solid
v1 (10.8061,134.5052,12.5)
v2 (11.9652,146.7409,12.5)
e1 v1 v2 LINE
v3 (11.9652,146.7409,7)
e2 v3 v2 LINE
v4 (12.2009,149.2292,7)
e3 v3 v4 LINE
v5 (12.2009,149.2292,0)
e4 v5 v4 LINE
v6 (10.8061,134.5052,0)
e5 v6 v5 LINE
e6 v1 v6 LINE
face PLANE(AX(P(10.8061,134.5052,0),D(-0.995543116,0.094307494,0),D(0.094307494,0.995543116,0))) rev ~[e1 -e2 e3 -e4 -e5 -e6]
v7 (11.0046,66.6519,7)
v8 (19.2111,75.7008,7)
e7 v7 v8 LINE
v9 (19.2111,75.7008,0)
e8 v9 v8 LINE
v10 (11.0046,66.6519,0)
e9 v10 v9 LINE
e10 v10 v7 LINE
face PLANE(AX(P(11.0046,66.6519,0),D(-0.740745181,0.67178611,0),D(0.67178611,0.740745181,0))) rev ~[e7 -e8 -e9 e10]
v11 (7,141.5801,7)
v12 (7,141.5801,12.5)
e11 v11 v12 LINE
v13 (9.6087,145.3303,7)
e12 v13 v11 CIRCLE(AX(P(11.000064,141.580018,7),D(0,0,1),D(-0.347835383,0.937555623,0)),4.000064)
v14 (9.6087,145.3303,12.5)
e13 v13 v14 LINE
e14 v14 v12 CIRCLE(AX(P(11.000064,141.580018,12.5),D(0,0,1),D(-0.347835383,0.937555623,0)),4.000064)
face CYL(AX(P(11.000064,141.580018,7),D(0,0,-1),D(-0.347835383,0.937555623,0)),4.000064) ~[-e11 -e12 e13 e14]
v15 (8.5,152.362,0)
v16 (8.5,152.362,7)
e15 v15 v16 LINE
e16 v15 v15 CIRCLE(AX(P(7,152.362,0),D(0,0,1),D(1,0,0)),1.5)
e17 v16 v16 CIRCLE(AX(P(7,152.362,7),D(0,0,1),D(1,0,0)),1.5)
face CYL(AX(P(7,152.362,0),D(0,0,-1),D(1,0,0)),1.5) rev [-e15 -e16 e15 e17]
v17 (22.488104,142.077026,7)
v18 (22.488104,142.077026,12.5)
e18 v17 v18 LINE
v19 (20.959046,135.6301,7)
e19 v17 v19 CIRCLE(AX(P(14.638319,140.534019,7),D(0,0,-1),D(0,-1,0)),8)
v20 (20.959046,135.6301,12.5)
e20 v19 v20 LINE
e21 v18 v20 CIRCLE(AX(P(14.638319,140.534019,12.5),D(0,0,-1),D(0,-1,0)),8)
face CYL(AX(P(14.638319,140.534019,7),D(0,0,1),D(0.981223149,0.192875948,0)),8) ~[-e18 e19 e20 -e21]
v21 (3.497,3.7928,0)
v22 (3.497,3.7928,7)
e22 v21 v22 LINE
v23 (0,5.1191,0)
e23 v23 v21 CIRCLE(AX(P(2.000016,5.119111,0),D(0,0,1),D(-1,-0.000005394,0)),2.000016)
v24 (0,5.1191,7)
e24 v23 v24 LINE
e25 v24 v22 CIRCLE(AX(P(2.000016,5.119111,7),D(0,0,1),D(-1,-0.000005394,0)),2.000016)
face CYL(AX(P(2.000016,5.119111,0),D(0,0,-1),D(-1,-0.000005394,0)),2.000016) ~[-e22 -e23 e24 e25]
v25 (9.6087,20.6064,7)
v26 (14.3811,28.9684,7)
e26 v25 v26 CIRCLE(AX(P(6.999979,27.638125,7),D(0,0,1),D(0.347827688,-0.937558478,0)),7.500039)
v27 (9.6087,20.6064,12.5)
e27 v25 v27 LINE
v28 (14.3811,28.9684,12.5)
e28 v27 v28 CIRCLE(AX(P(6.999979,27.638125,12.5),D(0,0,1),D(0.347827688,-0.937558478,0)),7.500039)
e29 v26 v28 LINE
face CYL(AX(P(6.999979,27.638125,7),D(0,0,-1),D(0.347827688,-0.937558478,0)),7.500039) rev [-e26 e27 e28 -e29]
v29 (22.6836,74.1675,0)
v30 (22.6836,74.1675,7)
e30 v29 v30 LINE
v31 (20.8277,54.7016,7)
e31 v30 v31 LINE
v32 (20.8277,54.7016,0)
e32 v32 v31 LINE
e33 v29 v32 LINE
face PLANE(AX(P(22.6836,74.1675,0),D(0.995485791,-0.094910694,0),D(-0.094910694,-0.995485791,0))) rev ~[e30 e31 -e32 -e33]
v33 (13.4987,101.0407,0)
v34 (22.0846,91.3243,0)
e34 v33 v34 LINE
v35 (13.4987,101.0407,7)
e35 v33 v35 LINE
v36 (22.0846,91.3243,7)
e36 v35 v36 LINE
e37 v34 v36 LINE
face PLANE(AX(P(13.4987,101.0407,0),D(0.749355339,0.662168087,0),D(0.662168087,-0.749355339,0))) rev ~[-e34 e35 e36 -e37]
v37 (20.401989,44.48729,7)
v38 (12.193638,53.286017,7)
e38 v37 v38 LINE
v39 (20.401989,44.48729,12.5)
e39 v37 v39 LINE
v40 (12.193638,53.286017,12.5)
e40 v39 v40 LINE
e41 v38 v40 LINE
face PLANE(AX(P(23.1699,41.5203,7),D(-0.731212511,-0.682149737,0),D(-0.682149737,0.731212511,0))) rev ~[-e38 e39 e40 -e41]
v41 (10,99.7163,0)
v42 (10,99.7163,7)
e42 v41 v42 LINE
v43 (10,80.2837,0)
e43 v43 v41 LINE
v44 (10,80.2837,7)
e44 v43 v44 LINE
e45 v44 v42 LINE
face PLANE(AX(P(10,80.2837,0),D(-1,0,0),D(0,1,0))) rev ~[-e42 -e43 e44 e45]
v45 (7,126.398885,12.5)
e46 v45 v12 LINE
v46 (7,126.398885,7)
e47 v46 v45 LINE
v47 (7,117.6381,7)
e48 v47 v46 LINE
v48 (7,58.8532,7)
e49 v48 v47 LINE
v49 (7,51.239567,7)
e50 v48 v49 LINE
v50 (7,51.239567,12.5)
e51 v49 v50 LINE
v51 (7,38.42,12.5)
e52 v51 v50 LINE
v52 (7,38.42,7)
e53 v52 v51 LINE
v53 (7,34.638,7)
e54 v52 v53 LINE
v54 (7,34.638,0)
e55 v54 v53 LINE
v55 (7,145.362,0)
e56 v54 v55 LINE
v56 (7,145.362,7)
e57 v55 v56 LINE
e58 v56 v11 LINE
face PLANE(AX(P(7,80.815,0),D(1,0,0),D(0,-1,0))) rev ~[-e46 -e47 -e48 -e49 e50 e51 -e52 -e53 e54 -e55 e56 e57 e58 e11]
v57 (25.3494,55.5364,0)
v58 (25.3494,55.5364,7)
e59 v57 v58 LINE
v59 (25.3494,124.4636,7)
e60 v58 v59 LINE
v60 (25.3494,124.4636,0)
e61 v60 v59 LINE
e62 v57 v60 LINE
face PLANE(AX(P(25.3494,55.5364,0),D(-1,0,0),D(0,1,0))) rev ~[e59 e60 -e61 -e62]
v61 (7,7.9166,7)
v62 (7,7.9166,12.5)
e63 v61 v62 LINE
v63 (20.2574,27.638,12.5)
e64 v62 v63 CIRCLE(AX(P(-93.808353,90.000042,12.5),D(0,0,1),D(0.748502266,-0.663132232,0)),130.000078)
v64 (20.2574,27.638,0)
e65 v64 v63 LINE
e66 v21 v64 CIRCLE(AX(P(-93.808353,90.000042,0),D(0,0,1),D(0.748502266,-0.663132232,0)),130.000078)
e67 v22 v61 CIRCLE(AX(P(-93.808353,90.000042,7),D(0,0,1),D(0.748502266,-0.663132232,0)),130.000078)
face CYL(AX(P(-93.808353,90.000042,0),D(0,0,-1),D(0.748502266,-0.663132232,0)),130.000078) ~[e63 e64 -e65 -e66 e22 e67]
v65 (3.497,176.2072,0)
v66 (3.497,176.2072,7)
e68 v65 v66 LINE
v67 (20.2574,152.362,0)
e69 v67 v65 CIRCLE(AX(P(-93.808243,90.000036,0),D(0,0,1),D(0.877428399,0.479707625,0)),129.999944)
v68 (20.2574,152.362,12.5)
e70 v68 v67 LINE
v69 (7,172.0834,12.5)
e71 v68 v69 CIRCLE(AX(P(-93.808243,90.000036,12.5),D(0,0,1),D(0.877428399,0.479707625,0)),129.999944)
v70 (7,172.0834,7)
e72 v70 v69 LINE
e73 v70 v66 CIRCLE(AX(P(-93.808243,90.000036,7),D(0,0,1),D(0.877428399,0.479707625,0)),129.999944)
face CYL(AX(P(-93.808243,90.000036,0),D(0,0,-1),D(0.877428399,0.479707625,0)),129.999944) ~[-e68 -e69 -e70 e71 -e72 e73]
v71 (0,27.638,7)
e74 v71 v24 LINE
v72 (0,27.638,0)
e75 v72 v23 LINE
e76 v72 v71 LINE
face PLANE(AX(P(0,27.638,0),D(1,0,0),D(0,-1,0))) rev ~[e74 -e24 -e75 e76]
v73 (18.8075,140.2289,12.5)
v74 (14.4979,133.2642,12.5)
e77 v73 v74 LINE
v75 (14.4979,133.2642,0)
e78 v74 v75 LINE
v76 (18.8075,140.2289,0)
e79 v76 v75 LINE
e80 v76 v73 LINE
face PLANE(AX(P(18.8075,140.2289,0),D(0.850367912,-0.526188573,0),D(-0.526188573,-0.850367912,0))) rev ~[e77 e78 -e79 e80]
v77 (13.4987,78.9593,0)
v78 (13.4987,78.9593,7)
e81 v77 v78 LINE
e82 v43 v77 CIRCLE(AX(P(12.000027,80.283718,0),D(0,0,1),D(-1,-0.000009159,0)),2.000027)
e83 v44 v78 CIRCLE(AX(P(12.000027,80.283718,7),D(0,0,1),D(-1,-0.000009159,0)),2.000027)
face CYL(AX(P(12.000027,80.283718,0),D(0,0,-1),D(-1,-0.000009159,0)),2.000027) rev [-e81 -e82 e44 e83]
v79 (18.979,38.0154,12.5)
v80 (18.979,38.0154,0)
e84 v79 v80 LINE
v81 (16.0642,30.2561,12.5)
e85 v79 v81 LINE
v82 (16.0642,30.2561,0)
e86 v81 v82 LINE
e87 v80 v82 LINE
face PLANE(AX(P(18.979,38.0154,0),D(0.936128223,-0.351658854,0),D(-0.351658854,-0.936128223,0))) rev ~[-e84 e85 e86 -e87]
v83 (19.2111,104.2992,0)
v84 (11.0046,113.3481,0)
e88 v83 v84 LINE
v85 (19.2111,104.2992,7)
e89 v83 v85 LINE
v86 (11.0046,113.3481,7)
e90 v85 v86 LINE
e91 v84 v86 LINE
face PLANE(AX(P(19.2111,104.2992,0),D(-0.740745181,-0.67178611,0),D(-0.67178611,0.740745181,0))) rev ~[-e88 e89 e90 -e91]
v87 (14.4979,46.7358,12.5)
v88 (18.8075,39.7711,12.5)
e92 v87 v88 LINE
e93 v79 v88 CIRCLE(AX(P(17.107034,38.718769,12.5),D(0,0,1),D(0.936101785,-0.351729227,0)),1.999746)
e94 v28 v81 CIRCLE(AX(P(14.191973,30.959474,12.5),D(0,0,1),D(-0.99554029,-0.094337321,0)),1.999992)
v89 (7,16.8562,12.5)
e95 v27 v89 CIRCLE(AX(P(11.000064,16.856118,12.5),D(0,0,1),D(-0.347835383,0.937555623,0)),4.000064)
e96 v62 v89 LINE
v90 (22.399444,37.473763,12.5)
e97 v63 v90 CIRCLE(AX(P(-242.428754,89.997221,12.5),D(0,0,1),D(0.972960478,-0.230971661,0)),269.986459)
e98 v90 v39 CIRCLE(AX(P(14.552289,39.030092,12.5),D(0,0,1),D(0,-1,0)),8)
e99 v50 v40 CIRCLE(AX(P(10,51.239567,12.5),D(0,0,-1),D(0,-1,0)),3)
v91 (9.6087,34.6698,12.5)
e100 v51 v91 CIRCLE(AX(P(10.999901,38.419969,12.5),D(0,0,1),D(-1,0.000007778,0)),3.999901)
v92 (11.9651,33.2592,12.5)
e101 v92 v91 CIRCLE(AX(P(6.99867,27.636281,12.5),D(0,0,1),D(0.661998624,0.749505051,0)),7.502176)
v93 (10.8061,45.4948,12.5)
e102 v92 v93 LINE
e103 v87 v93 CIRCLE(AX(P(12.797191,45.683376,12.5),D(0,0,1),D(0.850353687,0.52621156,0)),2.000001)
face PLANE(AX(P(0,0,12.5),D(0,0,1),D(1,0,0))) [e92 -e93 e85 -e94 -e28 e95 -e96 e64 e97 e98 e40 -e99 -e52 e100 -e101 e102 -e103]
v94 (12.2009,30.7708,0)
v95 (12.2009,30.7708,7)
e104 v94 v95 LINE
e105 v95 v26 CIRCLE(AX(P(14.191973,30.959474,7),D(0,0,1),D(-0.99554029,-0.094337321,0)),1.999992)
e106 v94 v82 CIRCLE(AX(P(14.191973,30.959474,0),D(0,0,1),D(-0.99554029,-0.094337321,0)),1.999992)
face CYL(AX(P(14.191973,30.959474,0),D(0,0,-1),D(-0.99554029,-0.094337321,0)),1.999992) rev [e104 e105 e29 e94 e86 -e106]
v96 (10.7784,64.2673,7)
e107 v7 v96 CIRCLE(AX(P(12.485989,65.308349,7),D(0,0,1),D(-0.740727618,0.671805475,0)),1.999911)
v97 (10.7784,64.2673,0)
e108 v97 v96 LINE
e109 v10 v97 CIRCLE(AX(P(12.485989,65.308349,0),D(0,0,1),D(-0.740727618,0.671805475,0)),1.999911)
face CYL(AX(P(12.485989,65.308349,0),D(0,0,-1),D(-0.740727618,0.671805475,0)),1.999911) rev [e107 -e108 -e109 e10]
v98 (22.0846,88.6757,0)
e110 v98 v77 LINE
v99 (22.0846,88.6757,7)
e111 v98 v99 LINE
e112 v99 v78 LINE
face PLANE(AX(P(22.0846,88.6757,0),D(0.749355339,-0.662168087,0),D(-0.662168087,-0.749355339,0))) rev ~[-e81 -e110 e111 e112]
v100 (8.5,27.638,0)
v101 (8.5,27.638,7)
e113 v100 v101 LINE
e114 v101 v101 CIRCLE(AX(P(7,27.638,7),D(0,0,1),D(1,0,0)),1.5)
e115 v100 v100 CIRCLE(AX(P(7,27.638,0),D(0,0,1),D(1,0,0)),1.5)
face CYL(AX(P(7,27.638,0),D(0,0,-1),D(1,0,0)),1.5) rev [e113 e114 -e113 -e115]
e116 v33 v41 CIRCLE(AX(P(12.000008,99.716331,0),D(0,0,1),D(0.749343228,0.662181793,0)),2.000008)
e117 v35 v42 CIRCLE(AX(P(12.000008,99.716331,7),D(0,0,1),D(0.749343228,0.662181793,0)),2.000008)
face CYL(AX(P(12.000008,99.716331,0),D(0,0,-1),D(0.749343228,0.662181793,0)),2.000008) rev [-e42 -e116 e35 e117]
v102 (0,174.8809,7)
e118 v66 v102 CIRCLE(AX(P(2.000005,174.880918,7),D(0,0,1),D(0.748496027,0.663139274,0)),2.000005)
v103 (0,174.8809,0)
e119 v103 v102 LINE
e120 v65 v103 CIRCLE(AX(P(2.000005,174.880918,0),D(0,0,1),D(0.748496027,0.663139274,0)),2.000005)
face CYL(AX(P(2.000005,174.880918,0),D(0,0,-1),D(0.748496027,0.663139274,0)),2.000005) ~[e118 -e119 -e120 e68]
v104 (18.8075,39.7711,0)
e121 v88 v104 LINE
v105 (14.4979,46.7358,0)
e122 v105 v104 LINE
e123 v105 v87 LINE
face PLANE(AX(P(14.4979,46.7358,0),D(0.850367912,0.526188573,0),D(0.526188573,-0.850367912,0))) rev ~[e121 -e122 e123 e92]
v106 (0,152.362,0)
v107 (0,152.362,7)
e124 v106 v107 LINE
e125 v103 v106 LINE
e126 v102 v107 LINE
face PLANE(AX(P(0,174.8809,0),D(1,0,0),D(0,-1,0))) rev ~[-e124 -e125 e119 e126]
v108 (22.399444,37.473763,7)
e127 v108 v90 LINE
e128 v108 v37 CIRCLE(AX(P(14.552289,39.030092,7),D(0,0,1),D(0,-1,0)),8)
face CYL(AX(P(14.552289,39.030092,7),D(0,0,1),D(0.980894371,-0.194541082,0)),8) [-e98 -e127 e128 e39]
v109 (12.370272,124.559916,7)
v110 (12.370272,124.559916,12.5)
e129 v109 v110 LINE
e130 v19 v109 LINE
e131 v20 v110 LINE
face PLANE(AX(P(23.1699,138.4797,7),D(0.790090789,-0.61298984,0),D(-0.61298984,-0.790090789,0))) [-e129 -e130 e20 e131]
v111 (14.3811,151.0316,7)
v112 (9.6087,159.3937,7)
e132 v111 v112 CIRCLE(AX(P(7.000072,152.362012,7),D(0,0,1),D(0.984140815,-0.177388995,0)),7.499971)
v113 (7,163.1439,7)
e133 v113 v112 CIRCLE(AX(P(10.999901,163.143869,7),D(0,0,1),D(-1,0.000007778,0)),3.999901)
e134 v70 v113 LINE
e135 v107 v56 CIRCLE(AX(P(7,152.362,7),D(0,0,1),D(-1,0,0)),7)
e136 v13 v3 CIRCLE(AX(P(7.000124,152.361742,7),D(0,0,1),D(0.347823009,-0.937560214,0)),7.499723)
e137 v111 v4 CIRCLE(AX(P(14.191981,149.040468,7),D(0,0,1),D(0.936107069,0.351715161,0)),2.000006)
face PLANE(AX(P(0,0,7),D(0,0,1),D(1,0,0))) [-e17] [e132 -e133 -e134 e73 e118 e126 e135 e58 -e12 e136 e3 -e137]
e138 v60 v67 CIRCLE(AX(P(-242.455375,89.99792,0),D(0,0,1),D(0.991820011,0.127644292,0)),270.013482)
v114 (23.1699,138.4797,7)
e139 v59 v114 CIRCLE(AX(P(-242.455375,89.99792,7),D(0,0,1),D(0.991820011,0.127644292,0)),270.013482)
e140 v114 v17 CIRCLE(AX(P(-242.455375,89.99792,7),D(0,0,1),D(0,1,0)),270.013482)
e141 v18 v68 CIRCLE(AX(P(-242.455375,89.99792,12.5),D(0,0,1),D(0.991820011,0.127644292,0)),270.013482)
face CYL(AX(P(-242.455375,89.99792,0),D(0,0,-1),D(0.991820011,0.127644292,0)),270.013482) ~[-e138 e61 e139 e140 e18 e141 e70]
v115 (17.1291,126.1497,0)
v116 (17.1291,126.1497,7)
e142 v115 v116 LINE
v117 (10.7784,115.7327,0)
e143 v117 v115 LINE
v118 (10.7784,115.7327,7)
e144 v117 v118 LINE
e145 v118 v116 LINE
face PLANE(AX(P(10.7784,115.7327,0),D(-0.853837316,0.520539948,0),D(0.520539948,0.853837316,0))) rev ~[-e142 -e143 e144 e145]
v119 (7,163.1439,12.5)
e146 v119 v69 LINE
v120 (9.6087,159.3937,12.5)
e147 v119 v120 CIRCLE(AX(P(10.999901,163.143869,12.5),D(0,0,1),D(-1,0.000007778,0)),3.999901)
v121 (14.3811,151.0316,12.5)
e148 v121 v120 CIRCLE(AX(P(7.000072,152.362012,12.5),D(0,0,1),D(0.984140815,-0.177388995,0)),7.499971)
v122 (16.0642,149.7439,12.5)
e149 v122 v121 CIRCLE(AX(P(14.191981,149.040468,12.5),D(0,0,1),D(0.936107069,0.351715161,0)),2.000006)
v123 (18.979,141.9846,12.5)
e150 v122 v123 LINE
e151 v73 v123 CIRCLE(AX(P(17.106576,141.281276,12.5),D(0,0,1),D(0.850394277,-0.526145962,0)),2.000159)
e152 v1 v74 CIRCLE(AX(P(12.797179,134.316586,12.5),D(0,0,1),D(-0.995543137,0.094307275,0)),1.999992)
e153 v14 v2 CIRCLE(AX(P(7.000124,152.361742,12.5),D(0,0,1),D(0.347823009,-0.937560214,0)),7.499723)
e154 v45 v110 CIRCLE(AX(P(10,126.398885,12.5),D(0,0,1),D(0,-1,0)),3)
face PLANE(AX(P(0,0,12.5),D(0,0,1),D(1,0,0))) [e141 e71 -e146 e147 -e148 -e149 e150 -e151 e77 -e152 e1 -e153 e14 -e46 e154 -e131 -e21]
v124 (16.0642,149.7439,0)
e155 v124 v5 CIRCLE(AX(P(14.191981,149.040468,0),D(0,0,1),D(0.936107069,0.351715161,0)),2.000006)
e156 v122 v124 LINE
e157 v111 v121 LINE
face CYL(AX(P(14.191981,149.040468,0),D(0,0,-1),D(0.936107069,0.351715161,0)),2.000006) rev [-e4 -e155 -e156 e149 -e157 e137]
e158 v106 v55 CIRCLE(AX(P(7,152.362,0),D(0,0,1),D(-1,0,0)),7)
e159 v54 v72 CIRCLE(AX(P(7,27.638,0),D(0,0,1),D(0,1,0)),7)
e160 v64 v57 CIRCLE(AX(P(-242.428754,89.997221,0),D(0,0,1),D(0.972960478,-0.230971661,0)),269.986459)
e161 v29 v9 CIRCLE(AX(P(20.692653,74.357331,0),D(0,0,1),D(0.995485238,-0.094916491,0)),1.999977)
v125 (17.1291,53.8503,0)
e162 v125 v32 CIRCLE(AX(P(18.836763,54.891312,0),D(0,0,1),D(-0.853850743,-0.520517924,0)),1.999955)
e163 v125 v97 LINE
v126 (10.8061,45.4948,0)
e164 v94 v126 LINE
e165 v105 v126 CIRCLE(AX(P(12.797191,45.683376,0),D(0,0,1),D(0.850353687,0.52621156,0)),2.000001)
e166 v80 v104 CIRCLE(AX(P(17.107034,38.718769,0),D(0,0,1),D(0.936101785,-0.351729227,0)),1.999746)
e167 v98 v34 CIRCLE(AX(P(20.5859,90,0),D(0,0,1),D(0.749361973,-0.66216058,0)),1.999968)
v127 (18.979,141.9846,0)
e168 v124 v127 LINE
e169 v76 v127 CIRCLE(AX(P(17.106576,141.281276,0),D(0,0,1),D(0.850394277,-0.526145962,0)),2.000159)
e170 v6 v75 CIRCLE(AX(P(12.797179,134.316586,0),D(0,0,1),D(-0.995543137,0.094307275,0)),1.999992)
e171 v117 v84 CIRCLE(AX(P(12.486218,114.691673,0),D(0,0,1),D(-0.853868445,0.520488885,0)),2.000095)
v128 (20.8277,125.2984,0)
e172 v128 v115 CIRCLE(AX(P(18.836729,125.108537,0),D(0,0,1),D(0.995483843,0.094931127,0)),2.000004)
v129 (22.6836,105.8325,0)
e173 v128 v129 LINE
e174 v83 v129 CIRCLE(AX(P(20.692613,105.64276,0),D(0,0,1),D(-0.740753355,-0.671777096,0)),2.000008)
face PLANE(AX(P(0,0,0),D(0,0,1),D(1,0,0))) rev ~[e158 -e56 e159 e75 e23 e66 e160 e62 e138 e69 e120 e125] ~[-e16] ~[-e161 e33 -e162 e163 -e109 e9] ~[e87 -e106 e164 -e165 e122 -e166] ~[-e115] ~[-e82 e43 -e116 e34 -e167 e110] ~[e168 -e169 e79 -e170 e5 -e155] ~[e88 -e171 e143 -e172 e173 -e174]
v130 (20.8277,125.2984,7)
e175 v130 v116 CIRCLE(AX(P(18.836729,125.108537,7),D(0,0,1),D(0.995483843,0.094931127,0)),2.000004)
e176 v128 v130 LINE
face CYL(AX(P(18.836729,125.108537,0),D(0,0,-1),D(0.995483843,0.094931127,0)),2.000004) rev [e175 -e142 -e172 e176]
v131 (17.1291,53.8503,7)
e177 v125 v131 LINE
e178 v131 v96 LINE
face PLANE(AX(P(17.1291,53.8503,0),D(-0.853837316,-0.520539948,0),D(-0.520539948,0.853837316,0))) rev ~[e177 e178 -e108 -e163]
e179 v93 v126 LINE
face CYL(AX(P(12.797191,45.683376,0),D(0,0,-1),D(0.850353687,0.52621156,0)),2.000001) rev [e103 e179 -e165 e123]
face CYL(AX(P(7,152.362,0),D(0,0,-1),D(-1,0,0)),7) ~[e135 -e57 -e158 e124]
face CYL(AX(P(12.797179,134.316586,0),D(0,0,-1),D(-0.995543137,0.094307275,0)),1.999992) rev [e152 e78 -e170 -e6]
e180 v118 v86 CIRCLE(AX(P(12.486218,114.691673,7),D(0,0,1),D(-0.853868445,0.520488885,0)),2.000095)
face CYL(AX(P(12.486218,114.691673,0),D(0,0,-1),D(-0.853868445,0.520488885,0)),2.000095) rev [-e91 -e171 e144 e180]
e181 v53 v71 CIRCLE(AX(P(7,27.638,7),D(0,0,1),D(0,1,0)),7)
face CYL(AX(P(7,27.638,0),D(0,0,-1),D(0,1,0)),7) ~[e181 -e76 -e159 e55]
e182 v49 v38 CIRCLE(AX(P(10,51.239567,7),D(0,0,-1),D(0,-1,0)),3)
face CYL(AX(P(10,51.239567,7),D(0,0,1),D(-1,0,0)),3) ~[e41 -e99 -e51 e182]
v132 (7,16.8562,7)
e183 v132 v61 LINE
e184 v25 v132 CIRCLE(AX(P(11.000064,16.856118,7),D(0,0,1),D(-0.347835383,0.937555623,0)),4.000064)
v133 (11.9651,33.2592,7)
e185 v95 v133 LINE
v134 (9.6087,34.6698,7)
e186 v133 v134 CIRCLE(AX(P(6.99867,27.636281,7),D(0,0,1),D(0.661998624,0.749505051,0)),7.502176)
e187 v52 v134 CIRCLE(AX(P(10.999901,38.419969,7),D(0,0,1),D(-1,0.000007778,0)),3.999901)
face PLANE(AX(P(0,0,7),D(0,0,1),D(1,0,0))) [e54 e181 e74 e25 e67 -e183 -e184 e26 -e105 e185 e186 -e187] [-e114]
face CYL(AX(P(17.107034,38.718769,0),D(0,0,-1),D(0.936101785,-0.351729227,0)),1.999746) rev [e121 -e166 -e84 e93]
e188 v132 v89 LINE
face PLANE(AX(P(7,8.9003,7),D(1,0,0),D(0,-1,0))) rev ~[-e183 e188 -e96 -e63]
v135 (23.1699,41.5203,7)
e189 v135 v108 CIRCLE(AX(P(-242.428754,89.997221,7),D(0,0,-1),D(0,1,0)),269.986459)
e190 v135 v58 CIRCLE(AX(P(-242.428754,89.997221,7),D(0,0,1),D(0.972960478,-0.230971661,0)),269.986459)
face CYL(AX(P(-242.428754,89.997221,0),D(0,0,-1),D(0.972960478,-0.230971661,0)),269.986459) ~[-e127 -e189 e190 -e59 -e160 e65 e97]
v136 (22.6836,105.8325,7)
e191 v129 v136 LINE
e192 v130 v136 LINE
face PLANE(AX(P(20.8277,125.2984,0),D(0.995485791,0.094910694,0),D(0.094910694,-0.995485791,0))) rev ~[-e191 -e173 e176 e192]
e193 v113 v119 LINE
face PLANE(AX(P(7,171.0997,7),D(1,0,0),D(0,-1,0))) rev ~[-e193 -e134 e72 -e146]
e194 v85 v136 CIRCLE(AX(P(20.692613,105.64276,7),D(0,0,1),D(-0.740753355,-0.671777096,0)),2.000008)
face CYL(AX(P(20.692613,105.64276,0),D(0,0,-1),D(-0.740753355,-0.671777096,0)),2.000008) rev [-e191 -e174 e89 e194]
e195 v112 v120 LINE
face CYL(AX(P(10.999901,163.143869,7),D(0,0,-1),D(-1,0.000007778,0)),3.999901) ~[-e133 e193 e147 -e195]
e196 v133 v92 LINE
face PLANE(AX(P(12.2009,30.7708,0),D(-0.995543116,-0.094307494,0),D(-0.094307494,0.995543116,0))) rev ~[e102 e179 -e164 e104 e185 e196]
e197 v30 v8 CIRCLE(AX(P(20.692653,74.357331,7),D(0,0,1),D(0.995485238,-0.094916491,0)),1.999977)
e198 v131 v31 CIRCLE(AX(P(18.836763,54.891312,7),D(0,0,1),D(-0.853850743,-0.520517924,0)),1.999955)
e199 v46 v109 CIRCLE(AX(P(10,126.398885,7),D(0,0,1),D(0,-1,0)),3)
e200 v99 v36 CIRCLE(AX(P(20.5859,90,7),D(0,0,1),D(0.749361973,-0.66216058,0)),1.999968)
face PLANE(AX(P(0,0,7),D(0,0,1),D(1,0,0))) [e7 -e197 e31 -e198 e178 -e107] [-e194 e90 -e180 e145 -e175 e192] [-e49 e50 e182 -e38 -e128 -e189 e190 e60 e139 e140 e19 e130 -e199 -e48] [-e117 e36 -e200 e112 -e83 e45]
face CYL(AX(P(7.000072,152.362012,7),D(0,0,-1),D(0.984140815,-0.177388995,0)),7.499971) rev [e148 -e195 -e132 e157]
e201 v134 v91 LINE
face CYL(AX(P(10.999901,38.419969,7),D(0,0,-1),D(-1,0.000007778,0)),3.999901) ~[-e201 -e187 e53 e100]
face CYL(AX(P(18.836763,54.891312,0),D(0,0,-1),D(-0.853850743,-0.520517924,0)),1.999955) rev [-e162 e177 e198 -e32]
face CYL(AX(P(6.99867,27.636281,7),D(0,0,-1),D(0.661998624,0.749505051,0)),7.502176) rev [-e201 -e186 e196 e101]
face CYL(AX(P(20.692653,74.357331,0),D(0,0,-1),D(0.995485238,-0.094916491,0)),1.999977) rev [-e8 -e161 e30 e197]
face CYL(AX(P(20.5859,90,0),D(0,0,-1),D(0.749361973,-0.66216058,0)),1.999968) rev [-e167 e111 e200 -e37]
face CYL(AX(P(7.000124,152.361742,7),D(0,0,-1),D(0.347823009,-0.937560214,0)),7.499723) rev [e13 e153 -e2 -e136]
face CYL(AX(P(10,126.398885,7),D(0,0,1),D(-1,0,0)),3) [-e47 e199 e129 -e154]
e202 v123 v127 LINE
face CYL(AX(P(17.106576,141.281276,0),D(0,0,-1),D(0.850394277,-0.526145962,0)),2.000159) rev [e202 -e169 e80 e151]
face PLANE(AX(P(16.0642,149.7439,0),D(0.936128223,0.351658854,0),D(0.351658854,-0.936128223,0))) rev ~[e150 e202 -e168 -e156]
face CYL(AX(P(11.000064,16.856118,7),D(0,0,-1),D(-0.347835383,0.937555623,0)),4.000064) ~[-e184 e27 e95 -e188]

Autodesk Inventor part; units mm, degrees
ref_plane "YZ Plane" through (0, 0, 0) normal (1, 0, 0) x (0, 1, 0)
ref_plane "XZ Plane" through (0, 0, 0) normal (0, 1, 0) x (-1, 0, 0)
ref_plane "XY Plane" through (0, 0, 0) normal (0, 0, 1) x (1, 0, 0)
sketch "スケッチ1" plane through (0, 0, 0) normal (0, 0, 1) x (1, 0, 0)
  arc A0 (0, 5.1191) -> (3.497, 3.7928) centre (2, 5.1191) ccw
  arc A1 (3.497, 3.7928) -> (20.2574, 27.638) centre (-93.8083, 90) ccw
  arc A2 (20.2574, 27.638) -> (25.3494, 55.5364) centre (-242.442, 90) ccw
  line L0 (25.3494, 55.5364) -> (25.3494, 124.4636)
  arc A3 (25.3494, 124.4636) -> (20.2574, 152.362) centre (-242.442, 90) ccw
  arc A4 (20.2574, 152.362) -> (3.497, 176.2072) centre (-93.8083, 90) ccw
  arc A5 (3.497, 176.2072) -> (0, 174.8809) centre (2, 174.8809) ccw
  line L1 (0, 174.8809) -> (0, 152.362)
  arc A6 (0, 152.362) -> (7, 145.362) centre (7, 152.362) ccw
  line L2 (7, 145.362) -> (7, 109.815)
  line L3 (7, 80.815) -> (7, 34.638)
  arc A7 (7, 34.638) -> (0, 27.638) centre (7, 27.638) ccw
  line L4 (0, 27.638) -> (0, 5.1191)
  arc A8 (20.8277, 125.2984) -> (17.1291, 126.1497) centre (18.8368, 125.1086) ccw
  line L5 (20.8277, 125.2984) -> (22.6836, 105.8325)
  arc A9 (19.2111, 104.2992) -> (22.6836, 105.8325) centre (20.6926, 105.6427) ccw
  line L6 (19.2111, 104.2992) -> (11.0046, 113.3481)
  arc A10 (10.7784, 115.7327) -> (11.0046, 113.3481) centre (12.4861, 114.6917) ccw
  line L7 (10.7784, 115.7327) -> (17.1291, 126.1497)
  arc A11 (18.8075, 140.2289) -> (18.979, 141.9846) centre (17.1068, 141.2812) ccw
  line L8 (18.8075, 140.2289) -> (14.4979, 133.2642)
  arc A12 (10.8061, 134.5052) -> (14.4979, 133.2642) centre (12.7972, 134.3166) ccw
  line L9 (10.8061, 134.5052) -> (12.2009, 149.2292)
  arc A13 (16.0642, 149.7439) -> (12.2009, 149.2292) centre (14.192, 149.0405) ccw
  line L10 (16.0642, 149.7439) -> (18.979, 141.9846)
  arc A14 (14.4979, 46.7358) -> (10.8061, 45.4948) centre (12.7972, 45.6834) ccw
  line L11 (14.4979, 46.7358) -> (18.8075, 39.7711)
  arc A15 (18.979, 38.0154) -> (18.8075, 39.7711) centre (17.1068, 38.7188) ccw
  line L12 (18.979, 38.0154) -> (16.0642, 30.2561)
  arc A16 (12.2009, 30.7708) -> (16.0642, 30.2561) centre (14.192, 30.9595) ccw
  line L13 (12.2009, 30.7708) -> (10.8061, 45.4948)
  arc A17 (11.0046, 66.6519) -> (10.7784, 64.2673) centre (12.4861, 65.3083) ccw
  line L14 (11.0046, 66.6519) -> (19.2111, 75.7008)
  arc A18 (22.6836, 74.1675) -> (19.2111, 75.7008) centre (20.6926, 74.3573) ccw
  line L15 (22.6836, 74.1675) -> (20.8277, 54.7016)
  arc A19 (17.1291, 53.8503) -> (20.8277, 54.7016) centre (18.8368, 54.8914) ccw
  line L16 (17.1291, 53.8503) -> (10.7784, 64.2673)
  arc A20 (13.4987, 101.0407) -> (10, 99.7163) centre (12, 99.7163) ccw
  line L17 (13.4987, 101.0407) -> (22.0846, 91.3243)
  arc A21 (22.0846, 88.6757) -> (22.0846, 91.3243) centre (20.5859, 90) ccw
  line L18 (22.0846, 88.6757) -> (13.4987, 78.9593)
  arc A22 (10, 80.2837) -> (13.4987, 78.9593) centre (12, 80.2837) ccw
  line L19 (10, 80.2837) -> (10, 99.7163)
  circle A23 centre (7, 152.362) radius 1.5
  circle A24 centre (7, 27.638) radius 1.5
  line L20 (7, 109.815) -> (7, 80.815)
  point P0 (0, 0)
  point P1 (0, 0)
extrude "押し出し1" add sketch "スケッチ1" along normal blind 7
sketch "スケッチ2" plane through (0, 0, 7) normal (0, 0, 1) x (1, 0, 0)
  line L0 (7, 52.6381) -> (7, 57.6381)
  line L1 (7, 52.6381) -> (7, 42.6381)
  line L2 (7, 12.6381) -> (7, 8.9003)
  line L3 (7, 42.6381) -> (7, 38.42)
  line L4 (7, 12.6381) -> (7, 16.8562)
  line L5 (7, 141.5801) -> (7, 122.6381)
  line L6 (7, 171.0997) -> (7, 163.1439)
  circle A0 centre (7, 152.362) radius 1.5 projected
  arc A1 (10, 80.2837) -> (13.4987, 78.9593) centre (12, 80.2837) ccw projected
  line L7 (10, 80.2837) -> (10, 99.7163) projected
  arc A2 (13.4987, 101.0407) -> (10, 99.7163) centre (12, 99.7163) ccw projected
  line L8 (13.4987, 101.0407) -> (22.0846, 91.3243) projected
  arc A3 (22.0846, 88.6757) -> (22.0846, 91.3243) centre (20.5859, 90) ccw projected
  line L9 (22.0846, 88.6757) -> (13.4987, 78.9593) projected
  arc A4 (19.2111, 104.2992) -> (22.6836, 105.8325) centre (20.6926, 105.6427) ccw projected
  line L10 (19.2111, 104.2992) -> (11.0046, 113.3481) projected
  arc A5 (10.7784, 115.7327) -> (11.0046, 113.3481) centre (12.4861, 114.6917) ccw projected
  line L11 (10.7784, 115.7327) -> (17.1291, 126.1497) projected
  arc A6 (20.8277, 125.2984) -> (17.1291, 126.1497) centre (18.8368, 125.1086) ccw projected
  line L12 (20.8277, 125.2984) -> (22.6836, 105.8325) projected
  line L13 (11.0046, 66.6519) -> (19.2111, 75.7008) projected
  arc A7 (22.6836, 74.1675) -> (19.2111, 75.7008) centre (20.6926, 74.3573) ccw projected
  line L14 (22.6836, 74.1675) -> (20.8277, 54.7016) projected
  arc A8 (17.1291, 53.8503) -> (20.8277, 54.7016) centre (18.8368, 54.8914) ccw projected
  line L15 (17.1291, 53.8503) -> (10.7784, 64.2673) projected
  arc A9 (11.0046, 66.6519) -> (10.7784, 64.2673) centre (12.4861, 65.3083) ccw projected
  line L16 (14.4979, 46.7358) -> (18.8075, 39.7711) projected
  arc A10 (18.979, 38.0154) -> (18.8075, 39.7711) centre (17.1068, 38.7188) ccw projected
  line L17 (18.979, 38.0154) -> (16.0642, 30.2561) projected
  arc A11 (12.2009, 30.7708) -> (16.0642, 30.2561) centre (14.192, 30.9595) ccw projected
  line L18 (12.2009, 30.7708) -> (10.8061, 45.4948) projected
  arc A12 (14.4979, 46.7358) -> (10.8061, 45.4948) centre (12.7972, 45.6834) ccw projected
  arc A13 (16.0642, 149.7439) -> (12.2009, 149.2292) centre (14.192, 149.0405) ccw projected
  line L19 (16.0642, 149.7439) -> (18.979, 141.9846) projected
  arc A14 (18.8075, 140.2289) -> (18.979, 141.9846) centre (17.1068, 141.2812) ccw projected
  line L20 (18.8075, 140.2289) -> (14.4979, 133.2642) projected
  arc A15 (10.8061, 134.5052) -> (14.4979, 133.2642) centre (12.7972, 134.3166) ccw projected
  line L21 (10.8061, 134.5052) -> (12.2009, 149.2292) projected
  circle A16 centre (7, 27.638) radius 1.5 projected
  circle A17 centre (7, 152.362) radius 1.5 projected
  arc A18 (25.3494, 124.4636) -> (20.2574, 152.362) centre (-242.442, 90) ccw projected
  arc A19 (20.2574, 152.362) -> (3.497, 176.2072) centre (-93.8083, 90) ccw projected
  arc A20 (3.497, 176.2072) -> (0, 174.8809) centre (2, 174.8809) ccw projected
  line L22 (0, 174.8809) -> (0, 152.362) projected
  arc A21 (0, 152.362) -> (7, 145.362) centre (7, 152.362) ccw projected
  line L23 (7, 145.362) -> (7, 34.638) projected
  arc A22 (7, 34.638) -> (0, 27.638) centre (7, 27.638) ccw projected
  line L24 (0, 27.638) -> (0, 5.1191) projected
  arc A23 (0, 5.1191) -> (3.497, 3.7928) centre (2, 5.1191) ccw projected
  arc A24 (3.497, 3.7928) -> (20.2574, 27.638) centre (-93.8083, 90) ccw projected
  arc A25 (20.2574, 27.638) -> (25.3494, 55.5364) centre (-242.442, 90) ccw projected
  line L25 (25.3494, 55.5364) -> (25.3494, 124.4636) projected
  line L26 (7, 171.0997) -> (7, 172.0834)
  arc A26 (20.2574, 152.362) -> (3.497, 176.2072) centre (-93.8083, 90) ccw projected
  line L27 (7, 8.9003) -> (7, 7.9166)
  arc A27 (3.497, 3.7928) -> (20.2574, 27.638) centre (-93.8083, 90) ccw projected
  arc A28 (7, 163.1439) -> (9.6087, 159.3937) centre (11, 163.1439) ccw
  arc A29 (9.6087, 145.3303) -> (7, 141.5801) centre (11, 141.5801) ccw
  arc A30 (9.6087, 20.6064) -> (7, 16.8562) centre (11, 16.8562) ccw
  arc A31 (7, 38.42) -> (9.6087, 34.6698) centre (11, 38.42) ccw
  line L28 (16.0642, 149.7439) -> (18.979, 141.9846) projected
  arc A32 (10, 80.2837) -> (13.4987, 78.9593) centre (12, 80.2837) ccw projected
  line L29 (10, 80.2837) -> (10, 99.7163) projected
  arc A33 (13.4987, 101.0407) -> (10, 99.7163) centre (12, 99.7163) ccw projected
  line L30 (13.4987, 101.0407) -> (22.0846, 91.3243) projected
  arc A34 (22.0846, 88.6757) -> (22.0846, 91.3243) centre (20.5859, 90) ccw projected
  line L31 (22.0846, 88.6757) -> (13.4987, 78.9593) projected
  arc A35 (19.2111, 104.2992) -> (22.6836, 105.8325) centre (20.6926, 105.6427) ccw projected
  line L32 (19.2111, 104.2992) -> (11.0046, 113.3481) projected
  arc A36 (10.7784, 115.7327) -> (11.0046, 113.3481) centre (12.4861, 114.6917) ccw projected
  line L33 (10.7784, 115.7327) -> (17.1291, 126.1497) projected
  arc A37 (20.8277, 125.2984) -> (17.1291, 126.1497) centre (18.8368, 125.1086) ccw projected
  line L34 (20.8277, 125.2984) -> (22.6836, 105.8325) projected
  line L35 (11.0046, 66.6519) -> (19.2111, 75.7008) projected
  arc A38 (22.6836, 74.1675) -> (19.2111, 75.7008) centre (20.6926, 74.3573) ccw projected
  line L36 (22.6836, 74.1675) -> (20.8277, 54.7016) projected
  arc A39 (17.1291, 53.8503) -> (20.8277, 54.7016) centre (18.8368, 54.8914) ccw projected
  line L37 (17.1291, 53.8503) -> (10.7784, 64.2673) projected
  arc A40 (11.0046, 66.6519) -> (10.7784, 64.2673) centre (12.4861, 65.3083) ccw projected
  line L38 (14.4979, 46.7358) -> (18.8075, 39.7711) projected
  arc A41 (18.979, 38.0154) -> (18.8075, 39.7711) centre (17.1068, 38.7188) ccw projected
  line L39 (18.979, 38.0154) -> (16.0642, 30.2561) projected
  arc A42 (12.2009, 30.7708) -> (16.0642, 30.2561) centre (14.192, 30.9595) ccw projected
  line L40 (12.2009, 30.7708) -> (10.8061, 45.4948) projected
  arc A43 (14.4979, 46.7358) -> (10.8061, 45.4948) centre (12.7972, 45.6834) ccw projected
  arc A44 (16.0642, 149.7439) -> (12.2009, 149.2292) centre (14.192, 149.0405) ccw projected
  line L41 (16.0642, 149.7439) -> (18.979, 141.9846) projected
  arc A45 (18.8075, 140.2289) -> (18.979, 141.9846) centre (17.1068, 141.2812) ccw projected
  line L42 (18.8075, 140.2289) -> (14.4979, 133.2642) projected
  arc A46 (10.8061, 134.5052) -> (14.4979, 133.2642) centre (12.7972, 134.3166) ccw projected
  line L43 (10.8061, 134.5052) -> (12.2009, 149.2292) projected
  circle A47 centre (7, 27.638) radius 1.5 projected
  circle A48 centre (7, 152.362) radius 1.5 projected
  arc A49 (25.3494, 124.4636) -> (20.2574, 152.362) centre (-242.442, 90) ccw projected
  arc A50 (20.2574, 152.362) -> (3.497, 176.2072) centre (-93.8083, 90) ccw projected
  arc A51 (3.497, 176.2072) -> (0, 174.8809) centre (2, 174.8809) ccw projected
  line L44 (0, 174.8809) -> (0, 152.362) projected
  arc A52 (0, 152.362) -> (7, 145.362) centre (7, 152.362) ccw projected
  line L45 (7, 145.362) -> (7, 34.638) projected
  arc A53 (7, 34.638) -> (0, 27.638) centre (7, 27.638) ccw projected
  line L46 (0, 27.638) -> (0, 5.1191) projected
  arc A54 (0, 5.1191) -> (3.497, 3.7928) centre (2, 5.1191) ccw projected
  arc A55 (3.497, 3.7928) -> (20.2574, 27.638) centre (-93.8083, 90) ccw projected
  arc A56 (20.2574, 27.638) -> (25.3494, 55.5364) centre (-242.442, 90) ccw projected
  line L47 (25.3494, 55.5364) -> (25.3494, 124.4636) projected
  arc A57 (10.8061, 134.5052) -> (14.4979, 133.2642) centre (12.7972, 134.3166) ccw
  arc A58 (10.8061, 134.5052) -> (14.4979, 133.2642) centre (12.7972, 134.3166) ccw projected
  line L48 (10.8061, 134.5052) -> (11.9652, 146.7409)
  line L49 (14.4979, 133.2642) -> (18.8075, 140.2289)
  line L50 (18.979, 141.9846) -> (16.0642, 149.7439)
  arc A59 (18.8075, 140.2289) -> (18.979, 141.9846) centre (17.1068, 141.2812) ccw
  arc A60 (9.6087, 145.3303) -> (11.9652, 146.7409) centre (7, 152.362) ccw
  arc A61 (14.3811, 151.0316) -> (9.6087, 159.3937) centre (7, 152.362) ccw
  arc A62 (16.0642, 149.7439) -> (14.3811, 151.0316) centre (14.192, 149.0405) ccw
  arc A63 (14.3811, 28.9684) -> (16.0642, 30.2561) centre (14.192, 30.9595) ccw
  arc A64 (14.4979, 46.7358) -> (10.8061, 45.4948) centre (12.7972, 45.6834) ccw
  arc A65 (18.979, 38.0154) -> (18.8075, 39.7711) centre (17.1068, 38.7188) ccw
  line L51 (10.8061, 45.4948) -> (11.9651, 33.2592)
  arc A66 (18.979, 38.0154) -> (18.8075, 39.7711) centre (17.1068, 38.7188) ccw projected
  line L52 (16.0642, 30.2561) -> (18.979, 38.0154)
  line L53 (14.4979, 46.7358) -> (18.8075, 39.7711) projected
  line L54 (18.8075, 39.7711) -> (14.4979, 46.7358)
  arc A67 (9.6087, 20.6064) -> (14.3811, 28.9684) centre (7, 27.6381) ccw
  arc A68 (11.9651, 33.2592) -> (9.6087, 34.6698) centre (7, 27.6381) ccw
  arc A69 (25.3494, 124.4636) -> (20.2574, 152.362) centre (-242.442, 90) ccw projected
  line L55 (23.1699, 138.4797) -> (7, 117.6381)
  line L56 (23.1699, 41.5203) -> (7, 58.8532)
  line L57 (7, 34.638) -> (7, 145.362) projected
  line L58 (7, 57.6381) -> (7, 58.8532)
  line L59 (7, 117.6381) -> (7, 122.6381)
  point P0 (0, 0)
  point P1 (7, 35.1381)
  point P2 (7, 20.1381)
  point P3 (7, 144.862)
  point P4 (7, 159.862)
  dimension "d6" = 4
extrude "押し出し2" add sketch "スケッチ2" along normal blind 5.5 contours L0 L23 L56 A25 A24 L27 L2 L4 A30 A67 A11 L17 A10 L16 A12 L18 A68 A31 L3 L1 | L23 L5 A29 A60 L21 A15 L20 A14 L19 A13 A61 A28 L6 L26 A19 A18 L55
fillet "フィレット1" radius 8 2 edges at (23.1699, 138.4797, 9.75) (23.1699, 41.5203, 9.75)
fillet "フィレット1" radius 3 2 edges at (7, 117.6381, 9.75) (7, 58.8532, 9.75)
properties part number "ガイド横上"
